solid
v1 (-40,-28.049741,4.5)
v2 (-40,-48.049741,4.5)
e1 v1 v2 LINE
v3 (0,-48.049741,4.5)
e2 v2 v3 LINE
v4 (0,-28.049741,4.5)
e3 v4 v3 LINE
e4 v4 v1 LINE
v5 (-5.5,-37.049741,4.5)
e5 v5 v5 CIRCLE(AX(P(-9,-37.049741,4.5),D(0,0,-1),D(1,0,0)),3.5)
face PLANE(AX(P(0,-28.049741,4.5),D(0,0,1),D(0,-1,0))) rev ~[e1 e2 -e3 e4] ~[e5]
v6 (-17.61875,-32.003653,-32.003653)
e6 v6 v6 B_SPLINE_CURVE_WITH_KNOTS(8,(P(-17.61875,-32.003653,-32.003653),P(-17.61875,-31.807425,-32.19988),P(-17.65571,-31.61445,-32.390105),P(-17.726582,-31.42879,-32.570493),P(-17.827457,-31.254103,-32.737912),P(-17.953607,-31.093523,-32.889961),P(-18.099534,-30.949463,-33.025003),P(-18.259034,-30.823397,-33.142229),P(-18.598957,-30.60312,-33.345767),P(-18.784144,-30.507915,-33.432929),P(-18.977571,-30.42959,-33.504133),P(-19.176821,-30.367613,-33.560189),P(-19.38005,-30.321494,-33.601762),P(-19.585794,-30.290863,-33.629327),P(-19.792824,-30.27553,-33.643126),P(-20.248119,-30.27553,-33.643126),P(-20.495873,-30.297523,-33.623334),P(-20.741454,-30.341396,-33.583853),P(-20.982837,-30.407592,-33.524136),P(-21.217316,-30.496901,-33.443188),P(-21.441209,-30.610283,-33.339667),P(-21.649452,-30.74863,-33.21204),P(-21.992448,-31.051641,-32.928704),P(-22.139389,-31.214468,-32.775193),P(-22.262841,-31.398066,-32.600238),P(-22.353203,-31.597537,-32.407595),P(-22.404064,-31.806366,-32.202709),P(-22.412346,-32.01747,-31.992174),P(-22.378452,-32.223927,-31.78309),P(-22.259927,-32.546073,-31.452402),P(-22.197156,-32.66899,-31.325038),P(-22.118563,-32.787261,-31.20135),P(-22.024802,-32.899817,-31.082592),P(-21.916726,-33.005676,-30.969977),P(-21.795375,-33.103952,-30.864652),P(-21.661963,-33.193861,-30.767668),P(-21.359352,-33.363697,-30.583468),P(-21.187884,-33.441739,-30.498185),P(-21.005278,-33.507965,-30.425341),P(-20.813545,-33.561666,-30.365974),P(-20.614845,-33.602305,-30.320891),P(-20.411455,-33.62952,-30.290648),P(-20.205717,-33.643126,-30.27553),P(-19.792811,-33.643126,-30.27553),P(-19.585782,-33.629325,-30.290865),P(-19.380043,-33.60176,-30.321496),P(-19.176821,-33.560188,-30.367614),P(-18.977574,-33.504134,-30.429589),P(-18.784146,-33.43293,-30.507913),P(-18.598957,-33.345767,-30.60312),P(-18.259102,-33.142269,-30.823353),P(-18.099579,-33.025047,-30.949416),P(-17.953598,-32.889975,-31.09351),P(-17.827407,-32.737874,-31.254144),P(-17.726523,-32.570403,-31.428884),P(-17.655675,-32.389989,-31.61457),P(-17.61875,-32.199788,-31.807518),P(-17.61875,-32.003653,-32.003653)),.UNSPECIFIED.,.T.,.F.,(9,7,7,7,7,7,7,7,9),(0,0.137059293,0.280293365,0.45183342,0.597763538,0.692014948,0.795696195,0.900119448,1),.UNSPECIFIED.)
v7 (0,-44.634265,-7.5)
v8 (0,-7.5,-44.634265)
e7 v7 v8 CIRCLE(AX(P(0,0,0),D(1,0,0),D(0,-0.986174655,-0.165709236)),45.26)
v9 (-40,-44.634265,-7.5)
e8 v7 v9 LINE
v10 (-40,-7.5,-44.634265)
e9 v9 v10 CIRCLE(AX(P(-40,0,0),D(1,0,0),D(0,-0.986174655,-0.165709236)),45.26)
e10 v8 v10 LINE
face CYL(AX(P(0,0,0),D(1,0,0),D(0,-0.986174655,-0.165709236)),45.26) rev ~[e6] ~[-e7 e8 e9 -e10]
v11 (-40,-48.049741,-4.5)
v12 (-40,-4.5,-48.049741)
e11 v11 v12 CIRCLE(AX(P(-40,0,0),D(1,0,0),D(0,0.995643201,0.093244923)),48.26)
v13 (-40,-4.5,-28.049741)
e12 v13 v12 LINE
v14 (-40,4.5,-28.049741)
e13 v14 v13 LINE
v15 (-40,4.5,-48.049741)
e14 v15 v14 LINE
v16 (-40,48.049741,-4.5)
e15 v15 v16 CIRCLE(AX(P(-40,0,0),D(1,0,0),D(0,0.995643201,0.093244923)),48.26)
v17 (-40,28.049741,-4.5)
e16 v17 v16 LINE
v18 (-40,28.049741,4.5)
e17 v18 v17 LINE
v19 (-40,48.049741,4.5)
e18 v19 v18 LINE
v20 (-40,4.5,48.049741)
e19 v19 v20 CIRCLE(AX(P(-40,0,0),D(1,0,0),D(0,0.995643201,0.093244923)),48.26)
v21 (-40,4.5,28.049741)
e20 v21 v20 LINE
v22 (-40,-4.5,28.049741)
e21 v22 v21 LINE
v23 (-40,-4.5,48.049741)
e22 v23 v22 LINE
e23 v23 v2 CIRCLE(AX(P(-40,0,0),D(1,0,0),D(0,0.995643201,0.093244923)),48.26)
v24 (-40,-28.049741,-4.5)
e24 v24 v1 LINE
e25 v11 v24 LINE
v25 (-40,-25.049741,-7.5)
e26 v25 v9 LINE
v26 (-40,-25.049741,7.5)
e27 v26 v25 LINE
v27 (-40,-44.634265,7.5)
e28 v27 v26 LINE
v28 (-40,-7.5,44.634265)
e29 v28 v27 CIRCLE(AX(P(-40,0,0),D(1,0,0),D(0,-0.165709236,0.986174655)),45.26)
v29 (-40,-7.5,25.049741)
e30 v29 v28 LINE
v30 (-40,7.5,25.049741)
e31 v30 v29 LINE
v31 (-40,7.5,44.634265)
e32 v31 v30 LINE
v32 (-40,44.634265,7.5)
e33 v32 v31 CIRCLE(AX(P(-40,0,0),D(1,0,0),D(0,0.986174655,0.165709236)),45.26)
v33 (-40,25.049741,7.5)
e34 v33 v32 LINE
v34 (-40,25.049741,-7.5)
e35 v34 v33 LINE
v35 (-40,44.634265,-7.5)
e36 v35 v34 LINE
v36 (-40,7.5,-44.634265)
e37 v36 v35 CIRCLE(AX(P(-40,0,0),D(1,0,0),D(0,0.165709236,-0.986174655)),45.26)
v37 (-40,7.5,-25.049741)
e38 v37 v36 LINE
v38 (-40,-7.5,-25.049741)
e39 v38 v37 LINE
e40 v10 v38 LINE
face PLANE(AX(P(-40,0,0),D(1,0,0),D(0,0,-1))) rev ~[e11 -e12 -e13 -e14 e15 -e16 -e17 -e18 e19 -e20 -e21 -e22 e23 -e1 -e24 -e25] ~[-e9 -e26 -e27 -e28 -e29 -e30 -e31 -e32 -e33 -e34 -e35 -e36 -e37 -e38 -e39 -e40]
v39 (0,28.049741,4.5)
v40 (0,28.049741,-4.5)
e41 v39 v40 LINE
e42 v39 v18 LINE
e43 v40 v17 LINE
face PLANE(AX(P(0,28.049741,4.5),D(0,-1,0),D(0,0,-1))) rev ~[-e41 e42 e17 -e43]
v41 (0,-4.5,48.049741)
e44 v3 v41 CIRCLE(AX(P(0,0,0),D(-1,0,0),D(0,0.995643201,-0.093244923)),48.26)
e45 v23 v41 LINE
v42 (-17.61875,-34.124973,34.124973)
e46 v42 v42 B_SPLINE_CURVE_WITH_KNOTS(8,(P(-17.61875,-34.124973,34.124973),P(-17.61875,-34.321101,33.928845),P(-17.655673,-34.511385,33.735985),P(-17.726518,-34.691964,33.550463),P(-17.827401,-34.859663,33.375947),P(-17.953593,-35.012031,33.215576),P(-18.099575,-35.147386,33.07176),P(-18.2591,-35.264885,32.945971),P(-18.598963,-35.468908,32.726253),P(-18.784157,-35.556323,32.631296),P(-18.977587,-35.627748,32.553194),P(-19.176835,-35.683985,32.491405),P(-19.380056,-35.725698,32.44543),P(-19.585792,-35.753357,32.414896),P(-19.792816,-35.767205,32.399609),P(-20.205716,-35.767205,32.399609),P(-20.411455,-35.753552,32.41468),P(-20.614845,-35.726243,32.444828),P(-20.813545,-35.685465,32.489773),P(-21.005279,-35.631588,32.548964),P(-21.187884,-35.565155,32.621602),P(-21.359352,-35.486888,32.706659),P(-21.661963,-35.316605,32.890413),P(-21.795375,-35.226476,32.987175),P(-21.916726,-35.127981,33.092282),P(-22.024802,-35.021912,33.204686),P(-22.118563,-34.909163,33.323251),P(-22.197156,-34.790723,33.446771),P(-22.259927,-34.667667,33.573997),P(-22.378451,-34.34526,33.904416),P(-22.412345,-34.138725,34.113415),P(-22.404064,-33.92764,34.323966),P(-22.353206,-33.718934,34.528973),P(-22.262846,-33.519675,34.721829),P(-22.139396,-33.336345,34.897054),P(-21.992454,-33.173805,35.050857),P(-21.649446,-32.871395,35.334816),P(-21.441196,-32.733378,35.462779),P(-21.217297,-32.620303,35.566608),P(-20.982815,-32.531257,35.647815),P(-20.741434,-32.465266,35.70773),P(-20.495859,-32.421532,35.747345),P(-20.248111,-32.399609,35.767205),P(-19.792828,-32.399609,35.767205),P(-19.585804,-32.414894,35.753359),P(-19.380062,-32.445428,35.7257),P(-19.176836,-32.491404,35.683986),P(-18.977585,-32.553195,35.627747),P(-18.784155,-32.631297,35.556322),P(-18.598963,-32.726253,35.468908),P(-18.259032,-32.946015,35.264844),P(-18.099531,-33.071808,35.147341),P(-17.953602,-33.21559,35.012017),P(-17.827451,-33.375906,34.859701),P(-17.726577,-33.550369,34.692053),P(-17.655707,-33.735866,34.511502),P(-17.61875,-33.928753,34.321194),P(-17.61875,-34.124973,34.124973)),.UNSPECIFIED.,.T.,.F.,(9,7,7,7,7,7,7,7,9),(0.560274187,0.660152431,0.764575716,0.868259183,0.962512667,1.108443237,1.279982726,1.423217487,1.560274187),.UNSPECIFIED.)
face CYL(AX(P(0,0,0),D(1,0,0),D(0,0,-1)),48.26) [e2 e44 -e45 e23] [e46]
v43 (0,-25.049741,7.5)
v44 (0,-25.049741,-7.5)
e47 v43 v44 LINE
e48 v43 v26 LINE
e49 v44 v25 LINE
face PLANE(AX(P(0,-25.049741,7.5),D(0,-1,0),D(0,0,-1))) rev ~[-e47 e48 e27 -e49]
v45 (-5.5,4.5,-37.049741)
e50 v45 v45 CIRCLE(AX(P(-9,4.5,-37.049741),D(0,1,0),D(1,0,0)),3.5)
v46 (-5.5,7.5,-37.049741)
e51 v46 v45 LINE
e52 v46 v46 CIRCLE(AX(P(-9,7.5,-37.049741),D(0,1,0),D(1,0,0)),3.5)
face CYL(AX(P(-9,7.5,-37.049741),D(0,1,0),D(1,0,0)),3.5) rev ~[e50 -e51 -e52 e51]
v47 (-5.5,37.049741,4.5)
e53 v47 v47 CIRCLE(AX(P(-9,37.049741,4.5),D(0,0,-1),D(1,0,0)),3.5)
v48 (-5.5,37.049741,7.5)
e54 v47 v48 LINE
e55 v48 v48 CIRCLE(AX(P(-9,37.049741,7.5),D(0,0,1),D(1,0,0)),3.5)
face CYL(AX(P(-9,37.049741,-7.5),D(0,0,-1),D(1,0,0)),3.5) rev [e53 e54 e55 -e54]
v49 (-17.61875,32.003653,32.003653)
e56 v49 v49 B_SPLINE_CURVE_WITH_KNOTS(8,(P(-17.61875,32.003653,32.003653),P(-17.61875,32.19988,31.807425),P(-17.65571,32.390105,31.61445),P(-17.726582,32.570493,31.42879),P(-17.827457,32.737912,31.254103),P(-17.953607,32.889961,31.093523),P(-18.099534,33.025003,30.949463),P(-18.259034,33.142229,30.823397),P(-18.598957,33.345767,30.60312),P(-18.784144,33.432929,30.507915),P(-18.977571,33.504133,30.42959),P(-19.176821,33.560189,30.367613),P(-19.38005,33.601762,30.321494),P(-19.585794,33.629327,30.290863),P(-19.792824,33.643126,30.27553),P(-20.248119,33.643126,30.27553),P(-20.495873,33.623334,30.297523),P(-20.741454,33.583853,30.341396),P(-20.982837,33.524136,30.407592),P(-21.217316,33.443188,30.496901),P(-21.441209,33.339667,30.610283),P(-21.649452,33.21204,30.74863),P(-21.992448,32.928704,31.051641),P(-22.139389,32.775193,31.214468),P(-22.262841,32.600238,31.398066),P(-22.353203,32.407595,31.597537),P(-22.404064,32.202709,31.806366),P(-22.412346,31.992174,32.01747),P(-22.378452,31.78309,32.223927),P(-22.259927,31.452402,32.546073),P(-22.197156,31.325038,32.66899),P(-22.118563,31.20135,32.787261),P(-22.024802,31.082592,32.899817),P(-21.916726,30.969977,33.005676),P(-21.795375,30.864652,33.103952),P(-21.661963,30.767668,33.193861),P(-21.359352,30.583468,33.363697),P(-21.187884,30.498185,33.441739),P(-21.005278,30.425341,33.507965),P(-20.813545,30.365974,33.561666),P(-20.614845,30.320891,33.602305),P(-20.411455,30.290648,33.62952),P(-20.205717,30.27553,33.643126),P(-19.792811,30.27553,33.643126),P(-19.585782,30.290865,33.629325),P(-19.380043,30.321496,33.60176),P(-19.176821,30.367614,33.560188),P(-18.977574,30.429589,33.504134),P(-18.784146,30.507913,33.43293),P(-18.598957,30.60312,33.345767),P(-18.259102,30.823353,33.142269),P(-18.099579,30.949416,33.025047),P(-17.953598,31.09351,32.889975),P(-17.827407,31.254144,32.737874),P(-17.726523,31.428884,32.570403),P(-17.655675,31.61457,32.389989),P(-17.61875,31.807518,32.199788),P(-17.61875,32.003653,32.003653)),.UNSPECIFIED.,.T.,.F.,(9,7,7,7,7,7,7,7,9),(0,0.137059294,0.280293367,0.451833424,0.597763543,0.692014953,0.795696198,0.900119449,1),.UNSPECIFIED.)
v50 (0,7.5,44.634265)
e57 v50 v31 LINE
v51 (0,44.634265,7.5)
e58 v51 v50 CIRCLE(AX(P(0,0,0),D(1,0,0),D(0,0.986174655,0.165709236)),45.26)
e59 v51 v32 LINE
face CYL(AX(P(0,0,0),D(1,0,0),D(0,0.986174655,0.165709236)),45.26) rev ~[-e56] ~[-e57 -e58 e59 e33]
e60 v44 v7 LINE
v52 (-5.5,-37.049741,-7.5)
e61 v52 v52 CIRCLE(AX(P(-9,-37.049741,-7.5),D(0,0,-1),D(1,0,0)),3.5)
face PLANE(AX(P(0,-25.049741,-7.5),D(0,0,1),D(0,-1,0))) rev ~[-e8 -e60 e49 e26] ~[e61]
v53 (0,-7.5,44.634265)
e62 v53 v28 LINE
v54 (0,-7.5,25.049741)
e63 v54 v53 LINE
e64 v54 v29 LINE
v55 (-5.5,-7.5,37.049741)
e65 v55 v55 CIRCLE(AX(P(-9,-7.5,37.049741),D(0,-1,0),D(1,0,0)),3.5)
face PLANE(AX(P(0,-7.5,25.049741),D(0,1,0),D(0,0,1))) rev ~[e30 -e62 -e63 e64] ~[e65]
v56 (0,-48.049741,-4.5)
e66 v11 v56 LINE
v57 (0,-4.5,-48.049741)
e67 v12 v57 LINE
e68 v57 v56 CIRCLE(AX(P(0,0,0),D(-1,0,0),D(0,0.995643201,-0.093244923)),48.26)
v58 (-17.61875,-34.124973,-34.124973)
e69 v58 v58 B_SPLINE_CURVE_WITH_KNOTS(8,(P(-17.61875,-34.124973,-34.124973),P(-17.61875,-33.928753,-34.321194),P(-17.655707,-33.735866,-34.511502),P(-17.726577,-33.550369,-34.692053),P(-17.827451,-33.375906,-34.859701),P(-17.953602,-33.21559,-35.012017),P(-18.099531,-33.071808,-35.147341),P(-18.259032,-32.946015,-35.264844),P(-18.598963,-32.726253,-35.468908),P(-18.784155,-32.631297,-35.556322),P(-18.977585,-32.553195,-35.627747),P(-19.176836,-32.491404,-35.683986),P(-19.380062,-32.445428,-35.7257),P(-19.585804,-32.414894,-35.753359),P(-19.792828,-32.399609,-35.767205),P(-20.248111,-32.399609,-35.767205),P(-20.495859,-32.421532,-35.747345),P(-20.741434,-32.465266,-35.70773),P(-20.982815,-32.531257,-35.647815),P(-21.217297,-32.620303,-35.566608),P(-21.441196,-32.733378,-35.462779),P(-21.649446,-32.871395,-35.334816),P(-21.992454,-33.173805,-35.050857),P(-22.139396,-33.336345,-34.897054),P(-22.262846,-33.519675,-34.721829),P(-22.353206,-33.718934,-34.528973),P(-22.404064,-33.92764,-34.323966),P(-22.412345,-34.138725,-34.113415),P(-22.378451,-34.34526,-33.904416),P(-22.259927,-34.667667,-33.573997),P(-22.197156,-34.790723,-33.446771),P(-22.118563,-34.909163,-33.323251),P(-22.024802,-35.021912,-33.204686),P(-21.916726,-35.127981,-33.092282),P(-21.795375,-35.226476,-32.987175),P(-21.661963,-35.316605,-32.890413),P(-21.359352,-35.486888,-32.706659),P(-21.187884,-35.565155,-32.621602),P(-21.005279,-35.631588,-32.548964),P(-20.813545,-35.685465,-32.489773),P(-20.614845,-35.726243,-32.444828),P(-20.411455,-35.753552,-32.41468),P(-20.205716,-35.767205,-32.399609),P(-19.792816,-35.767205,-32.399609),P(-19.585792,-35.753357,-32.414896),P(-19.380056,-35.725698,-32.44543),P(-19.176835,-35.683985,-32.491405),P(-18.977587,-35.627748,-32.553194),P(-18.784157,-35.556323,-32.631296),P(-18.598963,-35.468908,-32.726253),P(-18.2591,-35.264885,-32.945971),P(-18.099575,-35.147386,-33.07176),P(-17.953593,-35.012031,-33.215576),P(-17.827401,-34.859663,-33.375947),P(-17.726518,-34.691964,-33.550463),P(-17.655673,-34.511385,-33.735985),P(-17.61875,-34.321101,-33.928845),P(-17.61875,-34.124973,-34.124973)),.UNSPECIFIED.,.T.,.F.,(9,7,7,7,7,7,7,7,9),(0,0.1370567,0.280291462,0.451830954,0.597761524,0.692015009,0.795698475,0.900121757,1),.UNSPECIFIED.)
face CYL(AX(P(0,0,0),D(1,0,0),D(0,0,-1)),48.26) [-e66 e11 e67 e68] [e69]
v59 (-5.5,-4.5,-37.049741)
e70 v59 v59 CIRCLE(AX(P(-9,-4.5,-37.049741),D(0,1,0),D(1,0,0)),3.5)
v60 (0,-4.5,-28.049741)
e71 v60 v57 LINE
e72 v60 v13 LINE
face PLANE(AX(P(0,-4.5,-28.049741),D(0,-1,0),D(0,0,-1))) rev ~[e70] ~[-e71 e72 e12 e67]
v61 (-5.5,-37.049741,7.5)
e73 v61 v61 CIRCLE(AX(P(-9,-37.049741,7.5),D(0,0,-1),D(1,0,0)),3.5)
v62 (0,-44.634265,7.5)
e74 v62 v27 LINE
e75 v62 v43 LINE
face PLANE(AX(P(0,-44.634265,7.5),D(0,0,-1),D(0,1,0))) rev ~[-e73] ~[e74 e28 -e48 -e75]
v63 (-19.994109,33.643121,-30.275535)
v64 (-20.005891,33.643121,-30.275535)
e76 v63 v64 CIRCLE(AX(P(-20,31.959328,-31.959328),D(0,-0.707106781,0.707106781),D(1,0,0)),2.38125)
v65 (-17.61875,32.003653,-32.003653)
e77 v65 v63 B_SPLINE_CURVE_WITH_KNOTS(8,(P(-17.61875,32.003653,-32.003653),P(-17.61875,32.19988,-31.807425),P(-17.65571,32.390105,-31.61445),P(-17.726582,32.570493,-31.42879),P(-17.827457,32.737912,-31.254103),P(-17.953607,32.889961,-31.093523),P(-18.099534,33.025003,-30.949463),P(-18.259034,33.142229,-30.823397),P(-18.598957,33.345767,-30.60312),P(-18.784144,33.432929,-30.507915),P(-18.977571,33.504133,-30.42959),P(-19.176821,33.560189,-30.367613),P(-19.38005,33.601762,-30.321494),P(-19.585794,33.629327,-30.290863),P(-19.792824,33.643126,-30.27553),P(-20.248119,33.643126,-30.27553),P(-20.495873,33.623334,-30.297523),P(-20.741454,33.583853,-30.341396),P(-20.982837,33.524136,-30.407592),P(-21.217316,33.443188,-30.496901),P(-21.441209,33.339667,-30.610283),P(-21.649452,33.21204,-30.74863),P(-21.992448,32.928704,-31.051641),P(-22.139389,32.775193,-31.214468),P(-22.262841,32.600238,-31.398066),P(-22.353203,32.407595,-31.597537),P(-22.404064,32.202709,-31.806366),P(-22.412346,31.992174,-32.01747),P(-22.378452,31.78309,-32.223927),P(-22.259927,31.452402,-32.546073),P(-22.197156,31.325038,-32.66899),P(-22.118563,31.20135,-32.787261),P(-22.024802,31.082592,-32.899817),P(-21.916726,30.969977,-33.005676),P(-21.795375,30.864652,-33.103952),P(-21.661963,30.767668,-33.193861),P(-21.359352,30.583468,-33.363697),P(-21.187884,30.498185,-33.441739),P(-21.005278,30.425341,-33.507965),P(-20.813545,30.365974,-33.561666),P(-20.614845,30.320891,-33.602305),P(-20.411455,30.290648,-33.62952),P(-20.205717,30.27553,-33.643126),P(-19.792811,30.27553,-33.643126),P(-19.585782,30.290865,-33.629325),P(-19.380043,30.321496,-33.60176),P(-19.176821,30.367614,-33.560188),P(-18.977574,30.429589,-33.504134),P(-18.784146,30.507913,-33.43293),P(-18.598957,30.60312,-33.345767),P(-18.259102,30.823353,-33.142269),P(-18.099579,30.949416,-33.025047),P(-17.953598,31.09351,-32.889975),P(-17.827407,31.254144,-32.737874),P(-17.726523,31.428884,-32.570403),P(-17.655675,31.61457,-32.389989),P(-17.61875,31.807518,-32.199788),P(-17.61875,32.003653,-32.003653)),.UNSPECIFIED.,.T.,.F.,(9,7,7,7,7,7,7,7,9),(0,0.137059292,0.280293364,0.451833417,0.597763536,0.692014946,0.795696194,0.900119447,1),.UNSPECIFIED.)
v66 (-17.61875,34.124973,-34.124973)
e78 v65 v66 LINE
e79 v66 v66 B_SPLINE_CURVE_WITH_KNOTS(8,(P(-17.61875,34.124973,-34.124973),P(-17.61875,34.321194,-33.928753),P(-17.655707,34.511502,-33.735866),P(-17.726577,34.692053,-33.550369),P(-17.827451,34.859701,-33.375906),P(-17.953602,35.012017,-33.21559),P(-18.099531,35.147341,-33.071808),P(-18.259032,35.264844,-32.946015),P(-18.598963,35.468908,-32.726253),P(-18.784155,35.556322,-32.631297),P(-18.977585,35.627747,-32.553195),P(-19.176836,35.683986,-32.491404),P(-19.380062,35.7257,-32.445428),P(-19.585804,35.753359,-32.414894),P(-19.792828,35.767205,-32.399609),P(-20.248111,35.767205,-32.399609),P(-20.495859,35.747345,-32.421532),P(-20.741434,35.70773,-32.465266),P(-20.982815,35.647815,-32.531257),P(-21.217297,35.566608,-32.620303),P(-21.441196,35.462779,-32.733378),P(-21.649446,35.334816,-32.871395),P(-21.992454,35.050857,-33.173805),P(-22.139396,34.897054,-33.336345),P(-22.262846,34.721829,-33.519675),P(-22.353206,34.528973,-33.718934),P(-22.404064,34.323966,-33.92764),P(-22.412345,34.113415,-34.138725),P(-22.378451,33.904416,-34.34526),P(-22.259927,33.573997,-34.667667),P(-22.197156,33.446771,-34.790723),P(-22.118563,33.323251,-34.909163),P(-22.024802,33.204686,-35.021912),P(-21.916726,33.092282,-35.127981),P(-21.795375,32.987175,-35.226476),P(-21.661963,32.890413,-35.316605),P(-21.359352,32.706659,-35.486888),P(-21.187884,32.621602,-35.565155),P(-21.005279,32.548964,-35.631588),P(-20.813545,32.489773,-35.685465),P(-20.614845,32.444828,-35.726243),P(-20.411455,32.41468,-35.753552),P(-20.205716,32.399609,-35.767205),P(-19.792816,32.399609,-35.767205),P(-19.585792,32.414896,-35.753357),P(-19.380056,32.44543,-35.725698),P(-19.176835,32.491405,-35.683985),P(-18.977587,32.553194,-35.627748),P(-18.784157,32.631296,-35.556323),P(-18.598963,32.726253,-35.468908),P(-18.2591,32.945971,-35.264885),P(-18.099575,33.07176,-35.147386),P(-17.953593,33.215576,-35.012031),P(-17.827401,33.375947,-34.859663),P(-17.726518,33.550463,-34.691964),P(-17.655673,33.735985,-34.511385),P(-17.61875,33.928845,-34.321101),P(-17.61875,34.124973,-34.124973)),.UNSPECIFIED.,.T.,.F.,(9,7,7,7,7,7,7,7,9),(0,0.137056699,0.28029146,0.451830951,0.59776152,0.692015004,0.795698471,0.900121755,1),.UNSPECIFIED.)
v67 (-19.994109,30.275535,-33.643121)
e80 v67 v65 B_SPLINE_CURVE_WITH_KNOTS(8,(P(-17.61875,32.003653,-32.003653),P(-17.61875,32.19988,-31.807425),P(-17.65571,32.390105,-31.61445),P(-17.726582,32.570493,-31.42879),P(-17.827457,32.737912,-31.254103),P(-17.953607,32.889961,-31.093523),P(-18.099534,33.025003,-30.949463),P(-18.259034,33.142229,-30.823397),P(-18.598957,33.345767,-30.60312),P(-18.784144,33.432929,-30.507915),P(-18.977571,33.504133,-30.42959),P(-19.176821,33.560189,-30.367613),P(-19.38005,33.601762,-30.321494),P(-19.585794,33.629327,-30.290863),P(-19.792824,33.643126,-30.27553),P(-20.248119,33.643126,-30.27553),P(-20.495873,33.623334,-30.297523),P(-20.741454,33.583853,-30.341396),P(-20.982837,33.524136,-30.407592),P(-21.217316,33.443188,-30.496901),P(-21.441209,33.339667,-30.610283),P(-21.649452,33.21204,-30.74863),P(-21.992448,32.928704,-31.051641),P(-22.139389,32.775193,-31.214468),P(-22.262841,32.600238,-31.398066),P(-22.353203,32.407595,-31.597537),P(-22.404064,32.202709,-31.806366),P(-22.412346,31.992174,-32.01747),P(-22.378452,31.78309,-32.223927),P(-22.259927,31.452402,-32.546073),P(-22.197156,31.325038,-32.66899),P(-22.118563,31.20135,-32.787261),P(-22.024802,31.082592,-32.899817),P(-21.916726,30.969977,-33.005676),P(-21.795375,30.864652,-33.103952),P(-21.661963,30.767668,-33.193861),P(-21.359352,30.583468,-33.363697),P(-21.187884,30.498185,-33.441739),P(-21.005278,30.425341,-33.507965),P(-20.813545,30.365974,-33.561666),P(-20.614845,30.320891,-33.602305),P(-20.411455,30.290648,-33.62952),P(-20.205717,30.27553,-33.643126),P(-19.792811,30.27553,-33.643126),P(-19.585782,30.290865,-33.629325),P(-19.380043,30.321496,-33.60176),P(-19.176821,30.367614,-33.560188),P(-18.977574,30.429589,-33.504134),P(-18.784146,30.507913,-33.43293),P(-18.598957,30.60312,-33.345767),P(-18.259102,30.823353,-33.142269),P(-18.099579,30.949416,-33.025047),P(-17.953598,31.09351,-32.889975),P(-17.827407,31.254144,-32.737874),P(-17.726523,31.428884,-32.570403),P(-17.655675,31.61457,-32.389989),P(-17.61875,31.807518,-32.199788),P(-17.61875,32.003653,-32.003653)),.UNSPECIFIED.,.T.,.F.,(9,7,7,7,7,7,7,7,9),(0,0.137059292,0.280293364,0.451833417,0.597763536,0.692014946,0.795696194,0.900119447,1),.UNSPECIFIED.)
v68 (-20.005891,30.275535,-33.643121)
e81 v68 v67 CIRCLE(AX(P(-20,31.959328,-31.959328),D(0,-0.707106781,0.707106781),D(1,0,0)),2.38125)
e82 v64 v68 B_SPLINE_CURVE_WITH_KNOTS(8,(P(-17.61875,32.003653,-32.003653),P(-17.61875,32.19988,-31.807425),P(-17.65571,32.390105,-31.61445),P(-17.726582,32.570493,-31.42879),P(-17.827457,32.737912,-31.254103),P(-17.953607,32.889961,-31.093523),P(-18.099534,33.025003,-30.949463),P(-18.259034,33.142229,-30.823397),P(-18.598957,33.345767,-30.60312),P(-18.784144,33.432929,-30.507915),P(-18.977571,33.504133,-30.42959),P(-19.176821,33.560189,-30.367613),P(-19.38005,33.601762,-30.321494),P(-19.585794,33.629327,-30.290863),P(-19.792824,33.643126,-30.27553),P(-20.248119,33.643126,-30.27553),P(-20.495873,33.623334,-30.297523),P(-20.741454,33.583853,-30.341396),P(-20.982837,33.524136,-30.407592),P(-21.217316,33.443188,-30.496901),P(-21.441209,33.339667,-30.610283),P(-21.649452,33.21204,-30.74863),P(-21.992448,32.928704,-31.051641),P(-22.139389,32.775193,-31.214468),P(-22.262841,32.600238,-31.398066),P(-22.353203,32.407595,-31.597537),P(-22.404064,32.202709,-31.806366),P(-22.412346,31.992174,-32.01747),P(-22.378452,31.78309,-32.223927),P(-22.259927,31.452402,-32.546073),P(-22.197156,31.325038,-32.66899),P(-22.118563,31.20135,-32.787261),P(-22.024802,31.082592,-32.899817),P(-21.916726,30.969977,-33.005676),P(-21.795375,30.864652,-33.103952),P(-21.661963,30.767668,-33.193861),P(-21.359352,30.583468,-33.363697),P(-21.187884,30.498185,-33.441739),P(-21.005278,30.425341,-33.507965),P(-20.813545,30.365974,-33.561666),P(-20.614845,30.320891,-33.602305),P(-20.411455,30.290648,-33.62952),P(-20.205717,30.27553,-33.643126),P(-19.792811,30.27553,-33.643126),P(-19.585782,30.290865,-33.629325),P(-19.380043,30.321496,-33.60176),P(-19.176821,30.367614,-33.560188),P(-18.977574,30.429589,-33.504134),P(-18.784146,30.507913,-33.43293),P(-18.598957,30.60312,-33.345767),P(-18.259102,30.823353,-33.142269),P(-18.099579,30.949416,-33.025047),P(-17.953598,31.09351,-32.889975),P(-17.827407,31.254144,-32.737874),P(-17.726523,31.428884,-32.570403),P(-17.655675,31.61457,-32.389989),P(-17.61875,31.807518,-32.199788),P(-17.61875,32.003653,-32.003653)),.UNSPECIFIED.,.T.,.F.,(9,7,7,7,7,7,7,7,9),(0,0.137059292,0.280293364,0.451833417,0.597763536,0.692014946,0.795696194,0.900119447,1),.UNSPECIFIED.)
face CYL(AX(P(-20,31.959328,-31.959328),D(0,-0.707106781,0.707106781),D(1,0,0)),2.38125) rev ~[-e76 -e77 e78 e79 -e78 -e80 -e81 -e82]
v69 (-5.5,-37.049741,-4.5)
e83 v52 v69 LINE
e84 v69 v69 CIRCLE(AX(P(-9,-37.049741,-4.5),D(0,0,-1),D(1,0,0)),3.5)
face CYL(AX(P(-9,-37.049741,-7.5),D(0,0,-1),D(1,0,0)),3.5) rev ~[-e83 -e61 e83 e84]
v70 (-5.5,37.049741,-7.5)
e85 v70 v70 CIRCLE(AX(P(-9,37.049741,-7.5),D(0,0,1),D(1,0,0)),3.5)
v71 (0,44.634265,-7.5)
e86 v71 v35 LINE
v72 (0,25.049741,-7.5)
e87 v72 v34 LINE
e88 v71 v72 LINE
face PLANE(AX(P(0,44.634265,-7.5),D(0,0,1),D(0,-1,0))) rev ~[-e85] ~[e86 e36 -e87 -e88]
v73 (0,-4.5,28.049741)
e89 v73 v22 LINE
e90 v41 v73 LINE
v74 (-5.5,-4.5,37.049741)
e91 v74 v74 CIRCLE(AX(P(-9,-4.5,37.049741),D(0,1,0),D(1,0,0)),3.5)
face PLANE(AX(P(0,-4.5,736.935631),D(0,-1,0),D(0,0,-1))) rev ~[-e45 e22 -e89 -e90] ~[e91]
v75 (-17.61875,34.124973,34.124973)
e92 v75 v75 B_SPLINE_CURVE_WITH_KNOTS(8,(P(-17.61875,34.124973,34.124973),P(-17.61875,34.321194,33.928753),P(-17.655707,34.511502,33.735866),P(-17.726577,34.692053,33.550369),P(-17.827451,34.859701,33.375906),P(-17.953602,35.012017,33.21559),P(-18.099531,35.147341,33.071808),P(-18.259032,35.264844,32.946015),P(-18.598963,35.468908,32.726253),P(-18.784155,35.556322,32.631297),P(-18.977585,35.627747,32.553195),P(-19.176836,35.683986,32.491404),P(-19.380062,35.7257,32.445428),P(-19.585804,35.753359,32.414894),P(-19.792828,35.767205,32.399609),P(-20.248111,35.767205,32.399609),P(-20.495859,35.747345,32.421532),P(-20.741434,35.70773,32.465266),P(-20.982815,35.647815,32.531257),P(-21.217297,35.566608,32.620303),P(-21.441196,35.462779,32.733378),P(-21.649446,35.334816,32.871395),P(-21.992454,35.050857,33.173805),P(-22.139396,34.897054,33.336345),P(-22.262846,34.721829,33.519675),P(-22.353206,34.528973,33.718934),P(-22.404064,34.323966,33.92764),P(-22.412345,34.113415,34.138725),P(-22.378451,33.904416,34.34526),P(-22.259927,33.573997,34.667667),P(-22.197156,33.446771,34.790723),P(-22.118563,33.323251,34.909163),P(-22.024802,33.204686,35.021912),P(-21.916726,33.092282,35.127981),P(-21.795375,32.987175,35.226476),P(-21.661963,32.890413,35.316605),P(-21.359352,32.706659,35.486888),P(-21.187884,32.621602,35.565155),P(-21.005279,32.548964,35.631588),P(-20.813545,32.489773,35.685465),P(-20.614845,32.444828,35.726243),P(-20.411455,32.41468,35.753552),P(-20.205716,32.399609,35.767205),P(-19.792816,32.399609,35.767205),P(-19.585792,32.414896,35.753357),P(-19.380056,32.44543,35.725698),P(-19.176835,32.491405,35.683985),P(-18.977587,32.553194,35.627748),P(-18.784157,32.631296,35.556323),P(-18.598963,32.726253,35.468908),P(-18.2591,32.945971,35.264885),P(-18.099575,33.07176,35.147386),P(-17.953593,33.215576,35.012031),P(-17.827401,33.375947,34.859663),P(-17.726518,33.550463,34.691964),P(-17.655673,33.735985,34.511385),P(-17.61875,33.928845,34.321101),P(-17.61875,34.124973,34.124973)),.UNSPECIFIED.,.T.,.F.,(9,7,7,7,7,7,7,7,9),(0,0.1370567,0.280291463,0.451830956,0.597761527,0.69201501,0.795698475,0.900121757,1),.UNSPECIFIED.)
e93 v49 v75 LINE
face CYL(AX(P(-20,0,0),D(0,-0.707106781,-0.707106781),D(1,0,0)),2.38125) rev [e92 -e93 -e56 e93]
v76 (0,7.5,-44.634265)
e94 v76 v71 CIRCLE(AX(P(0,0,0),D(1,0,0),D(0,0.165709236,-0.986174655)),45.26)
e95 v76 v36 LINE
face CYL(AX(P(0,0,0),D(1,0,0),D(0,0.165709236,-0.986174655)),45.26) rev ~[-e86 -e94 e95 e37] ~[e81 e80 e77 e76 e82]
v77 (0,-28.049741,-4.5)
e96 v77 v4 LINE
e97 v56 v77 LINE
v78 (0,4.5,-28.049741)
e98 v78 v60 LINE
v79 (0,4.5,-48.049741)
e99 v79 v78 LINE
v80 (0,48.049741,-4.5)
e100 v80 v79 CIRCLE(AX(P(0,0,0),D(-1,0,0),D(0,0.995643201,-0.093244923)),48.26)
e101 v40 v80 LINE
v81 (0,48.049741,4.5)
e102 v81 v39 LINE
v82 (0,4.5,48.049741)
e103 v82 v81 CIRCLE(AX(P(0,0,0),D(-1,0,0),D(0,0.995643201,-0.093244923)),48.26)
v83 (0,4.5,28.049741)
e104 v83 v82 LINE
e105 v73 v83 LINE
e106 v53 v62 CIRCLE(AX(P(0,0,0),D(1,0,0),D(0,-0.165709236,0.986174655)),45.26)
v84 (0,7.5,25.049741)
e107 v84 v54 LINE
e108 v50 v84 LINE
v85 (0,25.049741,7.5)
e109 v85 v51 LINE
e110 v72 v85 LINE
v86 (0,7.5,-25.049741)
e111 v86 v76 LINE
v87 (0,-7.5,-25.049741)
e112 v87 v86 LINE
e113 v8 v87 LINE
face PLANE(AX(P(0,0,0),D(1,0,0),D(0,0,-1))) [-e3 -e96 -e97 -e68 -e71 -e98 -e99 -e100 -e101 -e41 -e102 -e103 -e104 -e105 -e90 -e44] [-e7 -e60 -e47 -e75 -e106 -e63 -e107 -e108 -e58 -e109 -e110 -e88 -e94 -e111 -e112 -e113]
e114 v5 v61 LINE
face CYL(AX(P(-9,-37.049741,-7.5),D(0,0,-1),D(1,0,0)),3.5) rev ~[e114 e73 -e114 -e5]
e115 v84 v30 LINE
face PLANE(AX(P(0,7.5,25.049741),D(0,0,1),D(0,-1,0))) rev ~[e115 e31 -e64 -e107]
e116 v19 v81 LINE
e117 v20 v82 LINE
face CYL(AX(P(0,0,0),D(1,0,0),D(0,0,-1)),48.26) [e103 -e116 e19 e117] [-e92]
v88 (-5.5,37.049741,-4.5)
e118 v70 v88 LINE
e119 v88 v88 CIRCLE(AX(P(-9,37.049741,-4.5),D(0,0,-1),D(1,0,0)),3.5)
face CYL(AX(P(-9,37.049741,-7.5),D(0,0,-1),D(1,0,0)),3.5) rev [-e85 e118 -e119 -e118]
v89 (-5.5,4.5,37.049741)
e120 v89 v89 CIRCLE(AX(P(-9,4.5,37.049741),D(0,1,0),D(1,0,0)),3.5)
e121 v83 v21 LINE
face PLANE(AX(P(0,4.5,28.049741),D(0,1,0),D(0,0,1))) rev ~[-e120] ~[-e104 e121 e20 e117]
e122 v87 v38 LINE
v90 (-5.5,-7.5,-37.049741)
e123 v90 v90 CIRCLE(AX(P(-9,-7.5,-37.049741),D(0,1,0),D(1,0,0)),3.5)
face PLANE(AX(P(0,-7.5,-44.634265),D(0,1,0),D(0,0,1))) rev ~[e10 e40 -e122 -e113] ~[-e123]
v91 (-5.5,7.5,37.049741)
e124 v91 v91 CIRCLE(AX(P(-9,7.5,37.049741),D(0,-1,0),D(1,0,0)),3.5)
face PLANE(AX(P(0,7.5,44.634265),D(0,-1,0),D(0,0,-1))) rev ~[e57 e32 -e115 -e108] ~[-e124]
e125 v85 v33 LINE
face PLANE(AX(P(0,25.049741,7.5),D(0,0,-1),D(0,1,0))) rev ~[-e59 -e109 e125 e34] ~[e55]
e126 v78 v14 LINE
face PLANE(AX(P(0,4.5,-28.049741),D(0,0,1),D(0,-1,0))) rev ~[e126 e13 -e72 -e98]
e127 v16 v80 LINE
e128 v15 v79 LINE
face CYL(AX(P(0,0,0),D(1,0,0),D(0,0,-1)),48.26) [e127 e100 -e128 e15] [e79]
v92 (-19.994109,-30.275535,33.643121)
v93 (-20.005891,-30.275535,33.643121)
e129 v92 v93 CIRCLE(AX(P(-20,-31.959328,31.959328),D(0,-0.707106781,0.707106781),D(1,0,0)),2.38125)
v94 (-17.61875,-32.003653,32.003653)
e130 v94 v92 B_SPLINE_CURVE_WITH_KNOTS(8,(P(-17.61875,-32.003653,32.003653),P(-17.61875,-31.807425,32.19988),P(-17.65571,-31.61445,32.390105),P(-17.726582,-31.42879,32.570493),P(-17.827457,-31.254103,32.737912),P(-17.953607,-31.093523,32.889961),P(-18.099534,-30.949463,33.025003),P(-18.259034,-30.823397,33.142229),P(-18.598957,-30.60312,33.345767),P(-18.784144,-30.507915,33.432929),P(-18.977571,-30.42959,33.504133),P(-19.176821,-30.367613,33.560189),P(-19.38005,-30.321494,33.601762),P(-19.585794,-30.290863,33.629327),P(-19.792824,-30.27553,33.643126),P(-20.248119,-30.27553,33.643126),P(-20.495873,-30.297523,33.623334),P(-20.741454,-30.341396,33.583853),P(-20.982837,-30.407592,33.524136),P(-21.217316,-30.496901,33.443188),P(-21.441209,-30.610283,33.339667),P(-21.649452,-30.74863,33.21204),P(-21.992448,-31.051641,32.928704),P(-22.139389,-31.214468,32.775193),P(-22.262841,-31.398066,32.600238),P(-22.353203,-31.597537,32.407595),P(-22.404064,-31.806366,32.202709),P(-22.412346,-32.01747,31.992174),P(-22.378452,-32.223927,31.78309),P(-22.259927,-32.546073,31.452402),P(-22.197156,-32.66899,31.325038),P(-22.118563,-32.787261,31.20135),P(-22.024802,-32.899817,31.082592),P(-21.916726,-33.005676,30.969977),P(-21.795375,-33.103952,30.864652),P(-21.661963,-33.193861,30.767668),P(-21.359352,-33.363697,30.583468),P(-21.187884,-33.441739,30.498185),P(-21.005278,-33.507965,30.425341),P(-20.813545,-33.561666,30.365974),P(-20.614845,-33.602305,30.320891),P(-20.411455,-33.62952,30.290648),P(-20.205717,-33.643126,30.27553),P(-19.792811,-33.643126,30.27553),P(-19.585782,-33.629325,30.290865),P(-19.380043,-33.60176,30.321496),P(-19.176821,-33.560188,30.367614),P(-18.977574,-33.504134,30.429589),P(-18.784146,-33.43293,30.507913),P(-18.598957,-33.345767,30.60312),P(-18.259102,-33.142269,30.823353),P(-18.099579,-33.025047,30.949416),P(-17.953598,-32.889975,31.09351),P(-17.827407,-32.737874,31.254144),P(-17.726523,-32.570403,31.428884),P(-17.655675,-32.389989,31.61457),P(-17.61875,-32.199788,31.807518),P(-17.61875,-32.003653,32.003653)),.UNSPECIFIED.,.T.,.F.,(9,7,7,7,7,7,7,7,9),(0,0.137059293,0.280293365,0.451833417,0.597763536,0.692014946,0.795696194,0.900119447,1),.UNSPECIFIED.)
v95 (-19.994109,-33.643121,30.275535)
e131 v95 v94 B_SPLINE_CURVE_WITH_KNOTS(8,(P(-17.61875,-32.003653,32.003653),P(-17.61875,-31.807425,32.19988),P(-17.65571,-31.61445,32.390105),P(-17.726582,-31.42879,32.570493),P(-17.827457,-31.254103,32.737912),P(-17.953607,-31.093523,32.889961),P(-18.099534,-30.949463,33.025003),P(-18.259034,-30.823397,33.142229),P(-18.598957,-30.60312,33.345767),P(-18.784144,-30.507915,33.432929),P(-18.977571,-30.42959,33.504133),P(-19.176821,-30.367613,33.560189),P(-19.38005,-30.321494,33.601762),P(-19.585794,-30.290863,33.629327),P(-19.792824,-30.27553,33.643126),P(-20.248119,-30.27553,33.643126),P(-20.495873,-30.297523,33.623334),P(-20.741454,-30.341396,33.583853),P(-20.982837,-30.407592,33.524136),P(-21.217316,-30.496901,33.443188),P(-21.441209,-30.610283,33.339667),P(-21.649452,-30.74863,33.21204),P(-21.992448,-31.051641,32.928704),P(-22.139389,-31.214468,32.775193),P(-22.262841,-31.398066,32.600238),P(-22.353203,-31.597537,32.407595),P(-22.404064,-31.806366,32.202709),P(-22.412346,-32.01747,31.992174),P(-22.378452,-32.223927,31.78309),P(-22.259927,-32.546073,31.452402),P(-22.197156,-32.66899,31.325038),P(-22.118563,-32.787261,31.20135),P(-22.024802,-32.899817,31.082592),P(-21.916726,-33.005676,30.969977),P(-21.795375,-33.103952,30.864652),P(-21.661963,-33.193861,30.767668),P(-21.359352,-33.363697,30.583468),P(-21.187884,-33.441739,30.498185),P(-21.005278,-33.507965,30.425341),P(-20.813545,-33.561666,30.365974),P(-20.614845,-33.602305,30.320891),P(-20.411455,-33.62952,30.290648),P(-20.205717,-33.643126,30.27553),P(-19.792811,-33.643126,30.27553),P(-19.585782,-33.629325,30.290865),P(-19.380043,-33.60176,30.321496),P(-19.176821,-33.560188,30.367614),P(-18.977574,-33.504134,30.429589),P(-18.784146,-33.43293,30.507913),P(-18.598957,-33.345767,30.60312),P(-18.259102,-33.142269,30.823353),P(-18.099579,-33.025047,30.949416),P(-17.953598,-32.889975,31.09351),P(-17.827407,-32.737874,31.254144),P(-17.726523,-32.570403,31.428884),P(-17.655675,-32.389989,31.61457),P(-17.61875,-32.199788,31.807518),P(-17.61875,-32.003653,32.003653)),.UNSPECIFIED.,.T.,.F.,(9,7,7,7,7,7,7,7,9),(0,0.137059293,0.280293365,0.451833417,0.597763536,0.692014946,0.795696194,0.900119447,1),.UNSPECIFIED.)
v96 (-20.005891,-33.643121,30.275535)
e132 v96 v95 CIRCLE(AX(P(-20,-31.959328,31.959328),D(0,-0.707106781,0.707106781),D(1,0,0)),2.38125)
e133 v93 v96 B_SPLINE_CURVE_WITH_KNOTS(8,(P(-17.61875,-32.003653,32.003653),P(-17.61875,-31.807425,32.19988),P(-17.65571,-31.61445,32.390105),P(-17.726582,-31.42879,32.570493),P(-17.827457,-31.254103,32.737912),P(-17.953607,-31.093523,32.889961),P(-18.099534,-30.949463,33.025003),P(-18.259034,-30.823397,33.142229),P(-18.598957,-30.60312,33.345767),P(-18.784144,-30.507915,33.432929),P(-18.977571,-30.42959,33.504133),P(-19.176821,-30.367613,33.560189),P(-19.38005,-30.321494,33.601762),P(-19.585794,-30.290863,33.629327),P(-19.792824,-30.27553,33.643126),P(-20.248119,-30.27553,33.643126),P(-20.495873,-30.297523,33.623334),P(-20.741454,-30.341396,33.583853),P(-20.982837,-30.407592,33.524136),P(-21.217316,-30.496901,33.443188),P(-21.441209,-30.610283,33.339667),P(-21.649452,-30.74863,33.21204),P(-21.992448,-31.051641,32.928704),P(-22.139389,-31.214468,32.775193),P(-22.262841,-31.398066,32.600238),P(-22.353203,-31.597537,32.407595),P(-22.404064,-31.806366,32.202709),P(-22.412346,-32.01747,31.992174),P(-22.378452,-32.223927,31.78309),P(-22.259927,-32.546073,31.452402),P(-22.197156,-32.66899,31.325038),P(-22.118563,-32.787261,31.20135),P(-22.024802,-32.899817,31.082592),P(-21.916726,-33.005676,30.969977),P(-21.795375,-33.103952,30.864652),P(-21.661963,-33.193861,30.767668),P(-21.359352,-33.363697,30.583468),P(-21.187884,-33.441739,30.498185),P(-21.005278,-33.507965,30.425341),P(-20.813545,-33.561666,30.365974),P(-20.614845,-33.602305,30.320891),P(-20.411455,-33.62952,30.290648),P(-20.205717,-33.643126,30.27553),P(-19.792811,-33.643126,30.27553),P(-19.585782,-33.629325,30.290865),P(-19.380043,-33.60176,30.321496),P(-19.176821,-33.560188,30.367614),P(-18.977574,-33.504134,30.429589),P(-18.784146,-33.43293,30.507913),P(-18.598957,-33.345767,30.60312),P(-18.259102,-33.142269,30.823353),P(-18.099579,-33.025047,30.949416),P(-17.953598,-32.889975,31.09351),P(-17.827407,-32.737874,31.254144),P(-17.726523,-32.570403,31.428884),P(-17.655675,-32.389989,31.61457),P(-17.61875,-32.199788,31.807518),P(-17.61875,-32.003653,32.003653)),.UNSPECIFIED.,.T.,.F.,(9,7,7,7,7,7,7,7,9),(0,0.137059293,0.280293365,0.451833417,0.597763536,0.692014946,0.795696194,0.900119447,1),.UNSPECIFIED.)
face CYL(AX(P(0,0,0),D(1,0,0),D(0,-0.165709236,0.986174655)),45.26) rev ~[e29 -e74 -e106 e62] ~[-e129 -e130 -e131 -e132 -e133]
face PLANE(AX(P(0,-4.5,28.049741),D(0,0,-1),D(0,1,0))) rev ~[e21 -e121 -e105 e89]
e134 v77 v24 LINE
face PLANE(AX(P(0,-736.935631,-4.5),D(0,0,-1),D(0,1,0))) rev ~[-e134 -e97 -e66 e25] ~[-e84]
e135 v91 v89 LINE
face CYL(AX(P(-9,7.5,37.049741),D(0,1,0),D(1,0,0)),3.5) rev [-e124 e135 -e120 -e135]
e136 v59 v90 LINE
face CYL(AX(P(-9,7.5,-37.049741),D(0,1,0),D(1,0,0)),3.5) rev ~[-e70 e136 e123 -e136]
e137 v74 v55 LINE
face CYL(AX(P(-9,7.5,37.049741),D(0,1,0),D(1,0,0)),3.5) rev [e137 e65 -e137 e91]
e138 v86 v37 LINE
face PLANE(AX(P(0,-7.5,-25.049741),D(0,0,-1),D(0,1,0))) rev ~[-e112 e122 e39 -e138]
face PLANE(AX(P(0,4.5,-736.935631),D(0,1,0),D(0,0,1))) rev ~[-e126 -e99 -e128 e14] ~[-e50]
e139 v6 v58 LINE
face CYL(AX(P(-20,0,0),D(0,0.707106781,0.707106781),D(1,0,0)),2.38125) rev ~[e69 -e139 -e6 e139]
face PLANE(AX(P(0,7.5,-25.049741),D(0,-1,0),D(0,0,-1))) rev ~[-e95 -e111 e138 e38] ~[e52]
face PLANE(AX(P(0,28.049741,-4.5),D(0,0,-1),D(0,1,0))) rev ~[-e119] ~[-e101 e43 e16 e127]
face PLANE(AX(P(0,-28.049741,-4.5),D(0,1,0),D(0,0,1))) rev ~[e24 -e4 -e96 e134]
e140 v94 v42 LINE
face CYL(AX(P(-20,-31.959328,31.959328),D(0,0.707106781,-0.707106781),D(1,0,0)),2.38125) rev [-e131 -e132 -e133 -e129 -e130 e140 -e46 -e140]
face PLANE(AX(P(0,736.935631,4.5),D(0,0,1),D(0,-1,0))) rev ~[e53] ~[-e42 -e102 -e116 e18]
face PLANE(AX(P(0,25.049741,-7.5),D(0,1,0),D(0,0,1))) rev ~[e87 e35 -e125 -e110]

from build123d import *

# Parameters (mm, degrees)
SKETCH4_R               = 48.26
BOSS_EXTRUDE2_DEPTH     = 40
CUT_EXTRUDE1_DEPTH      = 41
CIRPATTERN1_COUNT       = 4
CUT_EXTRUDE2_DEPTH      = 40
CUT_EXTRUDE3_START      = -3
SKETCH7_R               = 3.5
CUT_EXTRUDE3_DEPTH      = 15
CUT_EXTRUDE4_START      = -3
SKETCH8_R               = 3.5
CUT_EXTRUDE4_DEPTH      = 15
CUT_EXTRUDE5_START      = -3.062685
SKETCH11_R              = 2.38125
CUT_EXTRUDE5_DEPTH      = 3.062685
SKETCH13_R              = 2.38125
CUT_EXTRUDE6_DEPTH      = 68.952595383
CUT_EXTRUDE6_DEPTH_BACK = 68.952595383


with BuildPart() as part:
    # Sketch4 → Boss-Extrude2 (new body)
    with BuildSketch(Plane(origin=(0, 0, 0), x_dir=(0, 0, -1), z_dir=(1, 0, 0))):
        Circle(SKETCH4_R)
    extrude(amount=-BOSS_EXTRUDE2_DEPTH)

    # Sketch6 → Cut-Extrude1 (cut, through all)
    with BuildSketch(Plane(origin=(0, 0, 0), x_dir=(0, 0, -1), z_dir=(1, 0, 0))):
        Polygon((-4.5, 277.678371005), (-4.5, 48.049740894), (-4.5, 28.049740894), (4.5, 28.049740894), (4.5, 48.049740894), (4.5, 277.678371005), (4.5, 736.935631227), (-4.5, 736.935631227), align=None)
    cut_extrude1 = extrude(amount=-CUT_EXTRUDE1_DEPTH, mode=Mode.SUBTRACT)

    # CirPattern1: Cut-Extrude1 ×4 about axis
    cirpattern1_axis = Axis((0, 0, 0), (1, 0, 0))
    for i in range(1, CIRPATTERN1_COUNT):
        add(cut_extrude1.rotate(cirpattern1_axis, i * 360 / CIRPATTERN1_COUNT), mode=Mode.SUBTRACT)

    # Sketch9 → Cut-Extrude2 (cut)
    with BuildSketch(Plane(origin=(0, 0, 0), x_dir=(0, 0, -1), z_dir=(1, 0, 0))):
        with BuildLine():
            Line((-25.049740894, -7.5), (-44.634264865, -7.5))
            ThreePointArc((-44.634264865, -7.5), (-32.003652917, -32.003652917), (-7.5, -44.634264865))
            Line((-7.5, -44.634264865), (-7.5, -25.049740894))
            Line((-7.5, -25.049740894), (7.5, -25.049740894))
            Line((7.5, -25.049740894), (7.5, -44.634264865))
            ThreePointArc((7.5, -44.634264865), (32.003652917, -32.003652917), (44.634264865, -7.5))
            Line((44.634264865, -7.5), (25.049740894, -7.5))
            Line((25.049740894, -7.5), (25.049740894, 7.5))
            Line((25.049740894, 7.5), (44.634264865, 7.5))
            ThreePointArc((44.634264865, 7.5), (32.003652917, 32.003652917), (7.5, 44.634264865))
            Line((7.5, 44.634264865), (7.5, 25.049740894))
            Line((7.5, 25.049740894), (-7.5, 25.049740894))
            Line((-7.5, 25.049740894), (-7.5, 44.634264865))
            ThreePointArc((-7.5, 44.634264865), (-32.003652917, 32.003652917), (-44.634264865, 7.5))
            Line((-44.634264865, 7.5), (-25.049740894, 7.5))
            Line((-25.049740894, 7.5), (-25.049740894, -7.5))
        make_face()
    extrude(amount=-CUT_EXTRUDE2_DEPTH, mode=Mode.SUBTRACT)

    # Sketch7 → Cut-Extrude3 (cut)
    with BuildSketch(Plane.XY.offset(-4.5).offset(CUT_EXTRUDE3_START)):
        with Locations((-9, 37.049740894)):
            Circle(SKETCH7_R)
    cut_extrude3 = extrude(amount=CUT_EXTRUDE3_DEPTH, mode=Mode.SUBTRACT)

    # Sketch8 → Cut-Extrude4 (cut)
    with BuildSketch(Plane.XZ.offset(-4.5).offset(CUT_EXTRUDE4_START)):
        with Locations((-9, 37.049740894)):
            Circle(SKETCH8_R)
    cut_extrude4 = extrude(amount=CUT_EXTRUDE4_DEPTH, mode=Mode.SUBTRACT)

    # Mirror1: Cut-Extrude3 across plane
    add(cut_extrude3.mirror(Plane.ZX), mode=Mode.SUBTRACT)

    # Mirror2: Cut-Extrude4 across plane
    add(cut_extrude4.mirror(Plane.XY), mode=Mode.SUBTRACT)

    # Sketch11 → Cut-Extrude5 (cut)
    with BuildSketch(Plane(origin=(0, -34.12497326, 34.12497326), x_dir=(1, 0, 0), z_dir=(0, -0.707106781, 0.707106781)).offset(CUT_EXTRUDE5_START)):
        with Locations((-20, 0)):
            Circle(SKETCH11_R)
    cut_extrude5 = extrude(amount=CUT_EXTRUDE5_DEPTH, mode=Mode.SUBTRACT)

    # Mirror3: Cut-Extrude5 across plane
    add(cut_extrude5.mirror(Plane(origin=(0, 0, 0), x_dir=(0, 0.707106781, 0.707106781), z_dir=(0, 0.707106781, -0.707106781))), mode=Mode.SUBTRACT)

    # Sketch13 → Cut-Extrude6 (cut, two sides)
    with BuildSketch(Plane(origin=(0, 0, 0), x_dir=(1, 0, 0), z_dir=(0, 0.707106781, 0.707106781))) as cut_extrude6_sk:
        with Locations((-20, 0)):
            Circle(SKETCH13_R)
    extrude(amount=CUT_EXTRUDE6_DEPTH, mode=Mode.SUBTRACT)
    extrude(cut_extrude6_sk.sketch, amount=-CUT_EXTRUDE6_DEPTH_BACK, mode=Mode.SUBTRACT)


solid = part.part
